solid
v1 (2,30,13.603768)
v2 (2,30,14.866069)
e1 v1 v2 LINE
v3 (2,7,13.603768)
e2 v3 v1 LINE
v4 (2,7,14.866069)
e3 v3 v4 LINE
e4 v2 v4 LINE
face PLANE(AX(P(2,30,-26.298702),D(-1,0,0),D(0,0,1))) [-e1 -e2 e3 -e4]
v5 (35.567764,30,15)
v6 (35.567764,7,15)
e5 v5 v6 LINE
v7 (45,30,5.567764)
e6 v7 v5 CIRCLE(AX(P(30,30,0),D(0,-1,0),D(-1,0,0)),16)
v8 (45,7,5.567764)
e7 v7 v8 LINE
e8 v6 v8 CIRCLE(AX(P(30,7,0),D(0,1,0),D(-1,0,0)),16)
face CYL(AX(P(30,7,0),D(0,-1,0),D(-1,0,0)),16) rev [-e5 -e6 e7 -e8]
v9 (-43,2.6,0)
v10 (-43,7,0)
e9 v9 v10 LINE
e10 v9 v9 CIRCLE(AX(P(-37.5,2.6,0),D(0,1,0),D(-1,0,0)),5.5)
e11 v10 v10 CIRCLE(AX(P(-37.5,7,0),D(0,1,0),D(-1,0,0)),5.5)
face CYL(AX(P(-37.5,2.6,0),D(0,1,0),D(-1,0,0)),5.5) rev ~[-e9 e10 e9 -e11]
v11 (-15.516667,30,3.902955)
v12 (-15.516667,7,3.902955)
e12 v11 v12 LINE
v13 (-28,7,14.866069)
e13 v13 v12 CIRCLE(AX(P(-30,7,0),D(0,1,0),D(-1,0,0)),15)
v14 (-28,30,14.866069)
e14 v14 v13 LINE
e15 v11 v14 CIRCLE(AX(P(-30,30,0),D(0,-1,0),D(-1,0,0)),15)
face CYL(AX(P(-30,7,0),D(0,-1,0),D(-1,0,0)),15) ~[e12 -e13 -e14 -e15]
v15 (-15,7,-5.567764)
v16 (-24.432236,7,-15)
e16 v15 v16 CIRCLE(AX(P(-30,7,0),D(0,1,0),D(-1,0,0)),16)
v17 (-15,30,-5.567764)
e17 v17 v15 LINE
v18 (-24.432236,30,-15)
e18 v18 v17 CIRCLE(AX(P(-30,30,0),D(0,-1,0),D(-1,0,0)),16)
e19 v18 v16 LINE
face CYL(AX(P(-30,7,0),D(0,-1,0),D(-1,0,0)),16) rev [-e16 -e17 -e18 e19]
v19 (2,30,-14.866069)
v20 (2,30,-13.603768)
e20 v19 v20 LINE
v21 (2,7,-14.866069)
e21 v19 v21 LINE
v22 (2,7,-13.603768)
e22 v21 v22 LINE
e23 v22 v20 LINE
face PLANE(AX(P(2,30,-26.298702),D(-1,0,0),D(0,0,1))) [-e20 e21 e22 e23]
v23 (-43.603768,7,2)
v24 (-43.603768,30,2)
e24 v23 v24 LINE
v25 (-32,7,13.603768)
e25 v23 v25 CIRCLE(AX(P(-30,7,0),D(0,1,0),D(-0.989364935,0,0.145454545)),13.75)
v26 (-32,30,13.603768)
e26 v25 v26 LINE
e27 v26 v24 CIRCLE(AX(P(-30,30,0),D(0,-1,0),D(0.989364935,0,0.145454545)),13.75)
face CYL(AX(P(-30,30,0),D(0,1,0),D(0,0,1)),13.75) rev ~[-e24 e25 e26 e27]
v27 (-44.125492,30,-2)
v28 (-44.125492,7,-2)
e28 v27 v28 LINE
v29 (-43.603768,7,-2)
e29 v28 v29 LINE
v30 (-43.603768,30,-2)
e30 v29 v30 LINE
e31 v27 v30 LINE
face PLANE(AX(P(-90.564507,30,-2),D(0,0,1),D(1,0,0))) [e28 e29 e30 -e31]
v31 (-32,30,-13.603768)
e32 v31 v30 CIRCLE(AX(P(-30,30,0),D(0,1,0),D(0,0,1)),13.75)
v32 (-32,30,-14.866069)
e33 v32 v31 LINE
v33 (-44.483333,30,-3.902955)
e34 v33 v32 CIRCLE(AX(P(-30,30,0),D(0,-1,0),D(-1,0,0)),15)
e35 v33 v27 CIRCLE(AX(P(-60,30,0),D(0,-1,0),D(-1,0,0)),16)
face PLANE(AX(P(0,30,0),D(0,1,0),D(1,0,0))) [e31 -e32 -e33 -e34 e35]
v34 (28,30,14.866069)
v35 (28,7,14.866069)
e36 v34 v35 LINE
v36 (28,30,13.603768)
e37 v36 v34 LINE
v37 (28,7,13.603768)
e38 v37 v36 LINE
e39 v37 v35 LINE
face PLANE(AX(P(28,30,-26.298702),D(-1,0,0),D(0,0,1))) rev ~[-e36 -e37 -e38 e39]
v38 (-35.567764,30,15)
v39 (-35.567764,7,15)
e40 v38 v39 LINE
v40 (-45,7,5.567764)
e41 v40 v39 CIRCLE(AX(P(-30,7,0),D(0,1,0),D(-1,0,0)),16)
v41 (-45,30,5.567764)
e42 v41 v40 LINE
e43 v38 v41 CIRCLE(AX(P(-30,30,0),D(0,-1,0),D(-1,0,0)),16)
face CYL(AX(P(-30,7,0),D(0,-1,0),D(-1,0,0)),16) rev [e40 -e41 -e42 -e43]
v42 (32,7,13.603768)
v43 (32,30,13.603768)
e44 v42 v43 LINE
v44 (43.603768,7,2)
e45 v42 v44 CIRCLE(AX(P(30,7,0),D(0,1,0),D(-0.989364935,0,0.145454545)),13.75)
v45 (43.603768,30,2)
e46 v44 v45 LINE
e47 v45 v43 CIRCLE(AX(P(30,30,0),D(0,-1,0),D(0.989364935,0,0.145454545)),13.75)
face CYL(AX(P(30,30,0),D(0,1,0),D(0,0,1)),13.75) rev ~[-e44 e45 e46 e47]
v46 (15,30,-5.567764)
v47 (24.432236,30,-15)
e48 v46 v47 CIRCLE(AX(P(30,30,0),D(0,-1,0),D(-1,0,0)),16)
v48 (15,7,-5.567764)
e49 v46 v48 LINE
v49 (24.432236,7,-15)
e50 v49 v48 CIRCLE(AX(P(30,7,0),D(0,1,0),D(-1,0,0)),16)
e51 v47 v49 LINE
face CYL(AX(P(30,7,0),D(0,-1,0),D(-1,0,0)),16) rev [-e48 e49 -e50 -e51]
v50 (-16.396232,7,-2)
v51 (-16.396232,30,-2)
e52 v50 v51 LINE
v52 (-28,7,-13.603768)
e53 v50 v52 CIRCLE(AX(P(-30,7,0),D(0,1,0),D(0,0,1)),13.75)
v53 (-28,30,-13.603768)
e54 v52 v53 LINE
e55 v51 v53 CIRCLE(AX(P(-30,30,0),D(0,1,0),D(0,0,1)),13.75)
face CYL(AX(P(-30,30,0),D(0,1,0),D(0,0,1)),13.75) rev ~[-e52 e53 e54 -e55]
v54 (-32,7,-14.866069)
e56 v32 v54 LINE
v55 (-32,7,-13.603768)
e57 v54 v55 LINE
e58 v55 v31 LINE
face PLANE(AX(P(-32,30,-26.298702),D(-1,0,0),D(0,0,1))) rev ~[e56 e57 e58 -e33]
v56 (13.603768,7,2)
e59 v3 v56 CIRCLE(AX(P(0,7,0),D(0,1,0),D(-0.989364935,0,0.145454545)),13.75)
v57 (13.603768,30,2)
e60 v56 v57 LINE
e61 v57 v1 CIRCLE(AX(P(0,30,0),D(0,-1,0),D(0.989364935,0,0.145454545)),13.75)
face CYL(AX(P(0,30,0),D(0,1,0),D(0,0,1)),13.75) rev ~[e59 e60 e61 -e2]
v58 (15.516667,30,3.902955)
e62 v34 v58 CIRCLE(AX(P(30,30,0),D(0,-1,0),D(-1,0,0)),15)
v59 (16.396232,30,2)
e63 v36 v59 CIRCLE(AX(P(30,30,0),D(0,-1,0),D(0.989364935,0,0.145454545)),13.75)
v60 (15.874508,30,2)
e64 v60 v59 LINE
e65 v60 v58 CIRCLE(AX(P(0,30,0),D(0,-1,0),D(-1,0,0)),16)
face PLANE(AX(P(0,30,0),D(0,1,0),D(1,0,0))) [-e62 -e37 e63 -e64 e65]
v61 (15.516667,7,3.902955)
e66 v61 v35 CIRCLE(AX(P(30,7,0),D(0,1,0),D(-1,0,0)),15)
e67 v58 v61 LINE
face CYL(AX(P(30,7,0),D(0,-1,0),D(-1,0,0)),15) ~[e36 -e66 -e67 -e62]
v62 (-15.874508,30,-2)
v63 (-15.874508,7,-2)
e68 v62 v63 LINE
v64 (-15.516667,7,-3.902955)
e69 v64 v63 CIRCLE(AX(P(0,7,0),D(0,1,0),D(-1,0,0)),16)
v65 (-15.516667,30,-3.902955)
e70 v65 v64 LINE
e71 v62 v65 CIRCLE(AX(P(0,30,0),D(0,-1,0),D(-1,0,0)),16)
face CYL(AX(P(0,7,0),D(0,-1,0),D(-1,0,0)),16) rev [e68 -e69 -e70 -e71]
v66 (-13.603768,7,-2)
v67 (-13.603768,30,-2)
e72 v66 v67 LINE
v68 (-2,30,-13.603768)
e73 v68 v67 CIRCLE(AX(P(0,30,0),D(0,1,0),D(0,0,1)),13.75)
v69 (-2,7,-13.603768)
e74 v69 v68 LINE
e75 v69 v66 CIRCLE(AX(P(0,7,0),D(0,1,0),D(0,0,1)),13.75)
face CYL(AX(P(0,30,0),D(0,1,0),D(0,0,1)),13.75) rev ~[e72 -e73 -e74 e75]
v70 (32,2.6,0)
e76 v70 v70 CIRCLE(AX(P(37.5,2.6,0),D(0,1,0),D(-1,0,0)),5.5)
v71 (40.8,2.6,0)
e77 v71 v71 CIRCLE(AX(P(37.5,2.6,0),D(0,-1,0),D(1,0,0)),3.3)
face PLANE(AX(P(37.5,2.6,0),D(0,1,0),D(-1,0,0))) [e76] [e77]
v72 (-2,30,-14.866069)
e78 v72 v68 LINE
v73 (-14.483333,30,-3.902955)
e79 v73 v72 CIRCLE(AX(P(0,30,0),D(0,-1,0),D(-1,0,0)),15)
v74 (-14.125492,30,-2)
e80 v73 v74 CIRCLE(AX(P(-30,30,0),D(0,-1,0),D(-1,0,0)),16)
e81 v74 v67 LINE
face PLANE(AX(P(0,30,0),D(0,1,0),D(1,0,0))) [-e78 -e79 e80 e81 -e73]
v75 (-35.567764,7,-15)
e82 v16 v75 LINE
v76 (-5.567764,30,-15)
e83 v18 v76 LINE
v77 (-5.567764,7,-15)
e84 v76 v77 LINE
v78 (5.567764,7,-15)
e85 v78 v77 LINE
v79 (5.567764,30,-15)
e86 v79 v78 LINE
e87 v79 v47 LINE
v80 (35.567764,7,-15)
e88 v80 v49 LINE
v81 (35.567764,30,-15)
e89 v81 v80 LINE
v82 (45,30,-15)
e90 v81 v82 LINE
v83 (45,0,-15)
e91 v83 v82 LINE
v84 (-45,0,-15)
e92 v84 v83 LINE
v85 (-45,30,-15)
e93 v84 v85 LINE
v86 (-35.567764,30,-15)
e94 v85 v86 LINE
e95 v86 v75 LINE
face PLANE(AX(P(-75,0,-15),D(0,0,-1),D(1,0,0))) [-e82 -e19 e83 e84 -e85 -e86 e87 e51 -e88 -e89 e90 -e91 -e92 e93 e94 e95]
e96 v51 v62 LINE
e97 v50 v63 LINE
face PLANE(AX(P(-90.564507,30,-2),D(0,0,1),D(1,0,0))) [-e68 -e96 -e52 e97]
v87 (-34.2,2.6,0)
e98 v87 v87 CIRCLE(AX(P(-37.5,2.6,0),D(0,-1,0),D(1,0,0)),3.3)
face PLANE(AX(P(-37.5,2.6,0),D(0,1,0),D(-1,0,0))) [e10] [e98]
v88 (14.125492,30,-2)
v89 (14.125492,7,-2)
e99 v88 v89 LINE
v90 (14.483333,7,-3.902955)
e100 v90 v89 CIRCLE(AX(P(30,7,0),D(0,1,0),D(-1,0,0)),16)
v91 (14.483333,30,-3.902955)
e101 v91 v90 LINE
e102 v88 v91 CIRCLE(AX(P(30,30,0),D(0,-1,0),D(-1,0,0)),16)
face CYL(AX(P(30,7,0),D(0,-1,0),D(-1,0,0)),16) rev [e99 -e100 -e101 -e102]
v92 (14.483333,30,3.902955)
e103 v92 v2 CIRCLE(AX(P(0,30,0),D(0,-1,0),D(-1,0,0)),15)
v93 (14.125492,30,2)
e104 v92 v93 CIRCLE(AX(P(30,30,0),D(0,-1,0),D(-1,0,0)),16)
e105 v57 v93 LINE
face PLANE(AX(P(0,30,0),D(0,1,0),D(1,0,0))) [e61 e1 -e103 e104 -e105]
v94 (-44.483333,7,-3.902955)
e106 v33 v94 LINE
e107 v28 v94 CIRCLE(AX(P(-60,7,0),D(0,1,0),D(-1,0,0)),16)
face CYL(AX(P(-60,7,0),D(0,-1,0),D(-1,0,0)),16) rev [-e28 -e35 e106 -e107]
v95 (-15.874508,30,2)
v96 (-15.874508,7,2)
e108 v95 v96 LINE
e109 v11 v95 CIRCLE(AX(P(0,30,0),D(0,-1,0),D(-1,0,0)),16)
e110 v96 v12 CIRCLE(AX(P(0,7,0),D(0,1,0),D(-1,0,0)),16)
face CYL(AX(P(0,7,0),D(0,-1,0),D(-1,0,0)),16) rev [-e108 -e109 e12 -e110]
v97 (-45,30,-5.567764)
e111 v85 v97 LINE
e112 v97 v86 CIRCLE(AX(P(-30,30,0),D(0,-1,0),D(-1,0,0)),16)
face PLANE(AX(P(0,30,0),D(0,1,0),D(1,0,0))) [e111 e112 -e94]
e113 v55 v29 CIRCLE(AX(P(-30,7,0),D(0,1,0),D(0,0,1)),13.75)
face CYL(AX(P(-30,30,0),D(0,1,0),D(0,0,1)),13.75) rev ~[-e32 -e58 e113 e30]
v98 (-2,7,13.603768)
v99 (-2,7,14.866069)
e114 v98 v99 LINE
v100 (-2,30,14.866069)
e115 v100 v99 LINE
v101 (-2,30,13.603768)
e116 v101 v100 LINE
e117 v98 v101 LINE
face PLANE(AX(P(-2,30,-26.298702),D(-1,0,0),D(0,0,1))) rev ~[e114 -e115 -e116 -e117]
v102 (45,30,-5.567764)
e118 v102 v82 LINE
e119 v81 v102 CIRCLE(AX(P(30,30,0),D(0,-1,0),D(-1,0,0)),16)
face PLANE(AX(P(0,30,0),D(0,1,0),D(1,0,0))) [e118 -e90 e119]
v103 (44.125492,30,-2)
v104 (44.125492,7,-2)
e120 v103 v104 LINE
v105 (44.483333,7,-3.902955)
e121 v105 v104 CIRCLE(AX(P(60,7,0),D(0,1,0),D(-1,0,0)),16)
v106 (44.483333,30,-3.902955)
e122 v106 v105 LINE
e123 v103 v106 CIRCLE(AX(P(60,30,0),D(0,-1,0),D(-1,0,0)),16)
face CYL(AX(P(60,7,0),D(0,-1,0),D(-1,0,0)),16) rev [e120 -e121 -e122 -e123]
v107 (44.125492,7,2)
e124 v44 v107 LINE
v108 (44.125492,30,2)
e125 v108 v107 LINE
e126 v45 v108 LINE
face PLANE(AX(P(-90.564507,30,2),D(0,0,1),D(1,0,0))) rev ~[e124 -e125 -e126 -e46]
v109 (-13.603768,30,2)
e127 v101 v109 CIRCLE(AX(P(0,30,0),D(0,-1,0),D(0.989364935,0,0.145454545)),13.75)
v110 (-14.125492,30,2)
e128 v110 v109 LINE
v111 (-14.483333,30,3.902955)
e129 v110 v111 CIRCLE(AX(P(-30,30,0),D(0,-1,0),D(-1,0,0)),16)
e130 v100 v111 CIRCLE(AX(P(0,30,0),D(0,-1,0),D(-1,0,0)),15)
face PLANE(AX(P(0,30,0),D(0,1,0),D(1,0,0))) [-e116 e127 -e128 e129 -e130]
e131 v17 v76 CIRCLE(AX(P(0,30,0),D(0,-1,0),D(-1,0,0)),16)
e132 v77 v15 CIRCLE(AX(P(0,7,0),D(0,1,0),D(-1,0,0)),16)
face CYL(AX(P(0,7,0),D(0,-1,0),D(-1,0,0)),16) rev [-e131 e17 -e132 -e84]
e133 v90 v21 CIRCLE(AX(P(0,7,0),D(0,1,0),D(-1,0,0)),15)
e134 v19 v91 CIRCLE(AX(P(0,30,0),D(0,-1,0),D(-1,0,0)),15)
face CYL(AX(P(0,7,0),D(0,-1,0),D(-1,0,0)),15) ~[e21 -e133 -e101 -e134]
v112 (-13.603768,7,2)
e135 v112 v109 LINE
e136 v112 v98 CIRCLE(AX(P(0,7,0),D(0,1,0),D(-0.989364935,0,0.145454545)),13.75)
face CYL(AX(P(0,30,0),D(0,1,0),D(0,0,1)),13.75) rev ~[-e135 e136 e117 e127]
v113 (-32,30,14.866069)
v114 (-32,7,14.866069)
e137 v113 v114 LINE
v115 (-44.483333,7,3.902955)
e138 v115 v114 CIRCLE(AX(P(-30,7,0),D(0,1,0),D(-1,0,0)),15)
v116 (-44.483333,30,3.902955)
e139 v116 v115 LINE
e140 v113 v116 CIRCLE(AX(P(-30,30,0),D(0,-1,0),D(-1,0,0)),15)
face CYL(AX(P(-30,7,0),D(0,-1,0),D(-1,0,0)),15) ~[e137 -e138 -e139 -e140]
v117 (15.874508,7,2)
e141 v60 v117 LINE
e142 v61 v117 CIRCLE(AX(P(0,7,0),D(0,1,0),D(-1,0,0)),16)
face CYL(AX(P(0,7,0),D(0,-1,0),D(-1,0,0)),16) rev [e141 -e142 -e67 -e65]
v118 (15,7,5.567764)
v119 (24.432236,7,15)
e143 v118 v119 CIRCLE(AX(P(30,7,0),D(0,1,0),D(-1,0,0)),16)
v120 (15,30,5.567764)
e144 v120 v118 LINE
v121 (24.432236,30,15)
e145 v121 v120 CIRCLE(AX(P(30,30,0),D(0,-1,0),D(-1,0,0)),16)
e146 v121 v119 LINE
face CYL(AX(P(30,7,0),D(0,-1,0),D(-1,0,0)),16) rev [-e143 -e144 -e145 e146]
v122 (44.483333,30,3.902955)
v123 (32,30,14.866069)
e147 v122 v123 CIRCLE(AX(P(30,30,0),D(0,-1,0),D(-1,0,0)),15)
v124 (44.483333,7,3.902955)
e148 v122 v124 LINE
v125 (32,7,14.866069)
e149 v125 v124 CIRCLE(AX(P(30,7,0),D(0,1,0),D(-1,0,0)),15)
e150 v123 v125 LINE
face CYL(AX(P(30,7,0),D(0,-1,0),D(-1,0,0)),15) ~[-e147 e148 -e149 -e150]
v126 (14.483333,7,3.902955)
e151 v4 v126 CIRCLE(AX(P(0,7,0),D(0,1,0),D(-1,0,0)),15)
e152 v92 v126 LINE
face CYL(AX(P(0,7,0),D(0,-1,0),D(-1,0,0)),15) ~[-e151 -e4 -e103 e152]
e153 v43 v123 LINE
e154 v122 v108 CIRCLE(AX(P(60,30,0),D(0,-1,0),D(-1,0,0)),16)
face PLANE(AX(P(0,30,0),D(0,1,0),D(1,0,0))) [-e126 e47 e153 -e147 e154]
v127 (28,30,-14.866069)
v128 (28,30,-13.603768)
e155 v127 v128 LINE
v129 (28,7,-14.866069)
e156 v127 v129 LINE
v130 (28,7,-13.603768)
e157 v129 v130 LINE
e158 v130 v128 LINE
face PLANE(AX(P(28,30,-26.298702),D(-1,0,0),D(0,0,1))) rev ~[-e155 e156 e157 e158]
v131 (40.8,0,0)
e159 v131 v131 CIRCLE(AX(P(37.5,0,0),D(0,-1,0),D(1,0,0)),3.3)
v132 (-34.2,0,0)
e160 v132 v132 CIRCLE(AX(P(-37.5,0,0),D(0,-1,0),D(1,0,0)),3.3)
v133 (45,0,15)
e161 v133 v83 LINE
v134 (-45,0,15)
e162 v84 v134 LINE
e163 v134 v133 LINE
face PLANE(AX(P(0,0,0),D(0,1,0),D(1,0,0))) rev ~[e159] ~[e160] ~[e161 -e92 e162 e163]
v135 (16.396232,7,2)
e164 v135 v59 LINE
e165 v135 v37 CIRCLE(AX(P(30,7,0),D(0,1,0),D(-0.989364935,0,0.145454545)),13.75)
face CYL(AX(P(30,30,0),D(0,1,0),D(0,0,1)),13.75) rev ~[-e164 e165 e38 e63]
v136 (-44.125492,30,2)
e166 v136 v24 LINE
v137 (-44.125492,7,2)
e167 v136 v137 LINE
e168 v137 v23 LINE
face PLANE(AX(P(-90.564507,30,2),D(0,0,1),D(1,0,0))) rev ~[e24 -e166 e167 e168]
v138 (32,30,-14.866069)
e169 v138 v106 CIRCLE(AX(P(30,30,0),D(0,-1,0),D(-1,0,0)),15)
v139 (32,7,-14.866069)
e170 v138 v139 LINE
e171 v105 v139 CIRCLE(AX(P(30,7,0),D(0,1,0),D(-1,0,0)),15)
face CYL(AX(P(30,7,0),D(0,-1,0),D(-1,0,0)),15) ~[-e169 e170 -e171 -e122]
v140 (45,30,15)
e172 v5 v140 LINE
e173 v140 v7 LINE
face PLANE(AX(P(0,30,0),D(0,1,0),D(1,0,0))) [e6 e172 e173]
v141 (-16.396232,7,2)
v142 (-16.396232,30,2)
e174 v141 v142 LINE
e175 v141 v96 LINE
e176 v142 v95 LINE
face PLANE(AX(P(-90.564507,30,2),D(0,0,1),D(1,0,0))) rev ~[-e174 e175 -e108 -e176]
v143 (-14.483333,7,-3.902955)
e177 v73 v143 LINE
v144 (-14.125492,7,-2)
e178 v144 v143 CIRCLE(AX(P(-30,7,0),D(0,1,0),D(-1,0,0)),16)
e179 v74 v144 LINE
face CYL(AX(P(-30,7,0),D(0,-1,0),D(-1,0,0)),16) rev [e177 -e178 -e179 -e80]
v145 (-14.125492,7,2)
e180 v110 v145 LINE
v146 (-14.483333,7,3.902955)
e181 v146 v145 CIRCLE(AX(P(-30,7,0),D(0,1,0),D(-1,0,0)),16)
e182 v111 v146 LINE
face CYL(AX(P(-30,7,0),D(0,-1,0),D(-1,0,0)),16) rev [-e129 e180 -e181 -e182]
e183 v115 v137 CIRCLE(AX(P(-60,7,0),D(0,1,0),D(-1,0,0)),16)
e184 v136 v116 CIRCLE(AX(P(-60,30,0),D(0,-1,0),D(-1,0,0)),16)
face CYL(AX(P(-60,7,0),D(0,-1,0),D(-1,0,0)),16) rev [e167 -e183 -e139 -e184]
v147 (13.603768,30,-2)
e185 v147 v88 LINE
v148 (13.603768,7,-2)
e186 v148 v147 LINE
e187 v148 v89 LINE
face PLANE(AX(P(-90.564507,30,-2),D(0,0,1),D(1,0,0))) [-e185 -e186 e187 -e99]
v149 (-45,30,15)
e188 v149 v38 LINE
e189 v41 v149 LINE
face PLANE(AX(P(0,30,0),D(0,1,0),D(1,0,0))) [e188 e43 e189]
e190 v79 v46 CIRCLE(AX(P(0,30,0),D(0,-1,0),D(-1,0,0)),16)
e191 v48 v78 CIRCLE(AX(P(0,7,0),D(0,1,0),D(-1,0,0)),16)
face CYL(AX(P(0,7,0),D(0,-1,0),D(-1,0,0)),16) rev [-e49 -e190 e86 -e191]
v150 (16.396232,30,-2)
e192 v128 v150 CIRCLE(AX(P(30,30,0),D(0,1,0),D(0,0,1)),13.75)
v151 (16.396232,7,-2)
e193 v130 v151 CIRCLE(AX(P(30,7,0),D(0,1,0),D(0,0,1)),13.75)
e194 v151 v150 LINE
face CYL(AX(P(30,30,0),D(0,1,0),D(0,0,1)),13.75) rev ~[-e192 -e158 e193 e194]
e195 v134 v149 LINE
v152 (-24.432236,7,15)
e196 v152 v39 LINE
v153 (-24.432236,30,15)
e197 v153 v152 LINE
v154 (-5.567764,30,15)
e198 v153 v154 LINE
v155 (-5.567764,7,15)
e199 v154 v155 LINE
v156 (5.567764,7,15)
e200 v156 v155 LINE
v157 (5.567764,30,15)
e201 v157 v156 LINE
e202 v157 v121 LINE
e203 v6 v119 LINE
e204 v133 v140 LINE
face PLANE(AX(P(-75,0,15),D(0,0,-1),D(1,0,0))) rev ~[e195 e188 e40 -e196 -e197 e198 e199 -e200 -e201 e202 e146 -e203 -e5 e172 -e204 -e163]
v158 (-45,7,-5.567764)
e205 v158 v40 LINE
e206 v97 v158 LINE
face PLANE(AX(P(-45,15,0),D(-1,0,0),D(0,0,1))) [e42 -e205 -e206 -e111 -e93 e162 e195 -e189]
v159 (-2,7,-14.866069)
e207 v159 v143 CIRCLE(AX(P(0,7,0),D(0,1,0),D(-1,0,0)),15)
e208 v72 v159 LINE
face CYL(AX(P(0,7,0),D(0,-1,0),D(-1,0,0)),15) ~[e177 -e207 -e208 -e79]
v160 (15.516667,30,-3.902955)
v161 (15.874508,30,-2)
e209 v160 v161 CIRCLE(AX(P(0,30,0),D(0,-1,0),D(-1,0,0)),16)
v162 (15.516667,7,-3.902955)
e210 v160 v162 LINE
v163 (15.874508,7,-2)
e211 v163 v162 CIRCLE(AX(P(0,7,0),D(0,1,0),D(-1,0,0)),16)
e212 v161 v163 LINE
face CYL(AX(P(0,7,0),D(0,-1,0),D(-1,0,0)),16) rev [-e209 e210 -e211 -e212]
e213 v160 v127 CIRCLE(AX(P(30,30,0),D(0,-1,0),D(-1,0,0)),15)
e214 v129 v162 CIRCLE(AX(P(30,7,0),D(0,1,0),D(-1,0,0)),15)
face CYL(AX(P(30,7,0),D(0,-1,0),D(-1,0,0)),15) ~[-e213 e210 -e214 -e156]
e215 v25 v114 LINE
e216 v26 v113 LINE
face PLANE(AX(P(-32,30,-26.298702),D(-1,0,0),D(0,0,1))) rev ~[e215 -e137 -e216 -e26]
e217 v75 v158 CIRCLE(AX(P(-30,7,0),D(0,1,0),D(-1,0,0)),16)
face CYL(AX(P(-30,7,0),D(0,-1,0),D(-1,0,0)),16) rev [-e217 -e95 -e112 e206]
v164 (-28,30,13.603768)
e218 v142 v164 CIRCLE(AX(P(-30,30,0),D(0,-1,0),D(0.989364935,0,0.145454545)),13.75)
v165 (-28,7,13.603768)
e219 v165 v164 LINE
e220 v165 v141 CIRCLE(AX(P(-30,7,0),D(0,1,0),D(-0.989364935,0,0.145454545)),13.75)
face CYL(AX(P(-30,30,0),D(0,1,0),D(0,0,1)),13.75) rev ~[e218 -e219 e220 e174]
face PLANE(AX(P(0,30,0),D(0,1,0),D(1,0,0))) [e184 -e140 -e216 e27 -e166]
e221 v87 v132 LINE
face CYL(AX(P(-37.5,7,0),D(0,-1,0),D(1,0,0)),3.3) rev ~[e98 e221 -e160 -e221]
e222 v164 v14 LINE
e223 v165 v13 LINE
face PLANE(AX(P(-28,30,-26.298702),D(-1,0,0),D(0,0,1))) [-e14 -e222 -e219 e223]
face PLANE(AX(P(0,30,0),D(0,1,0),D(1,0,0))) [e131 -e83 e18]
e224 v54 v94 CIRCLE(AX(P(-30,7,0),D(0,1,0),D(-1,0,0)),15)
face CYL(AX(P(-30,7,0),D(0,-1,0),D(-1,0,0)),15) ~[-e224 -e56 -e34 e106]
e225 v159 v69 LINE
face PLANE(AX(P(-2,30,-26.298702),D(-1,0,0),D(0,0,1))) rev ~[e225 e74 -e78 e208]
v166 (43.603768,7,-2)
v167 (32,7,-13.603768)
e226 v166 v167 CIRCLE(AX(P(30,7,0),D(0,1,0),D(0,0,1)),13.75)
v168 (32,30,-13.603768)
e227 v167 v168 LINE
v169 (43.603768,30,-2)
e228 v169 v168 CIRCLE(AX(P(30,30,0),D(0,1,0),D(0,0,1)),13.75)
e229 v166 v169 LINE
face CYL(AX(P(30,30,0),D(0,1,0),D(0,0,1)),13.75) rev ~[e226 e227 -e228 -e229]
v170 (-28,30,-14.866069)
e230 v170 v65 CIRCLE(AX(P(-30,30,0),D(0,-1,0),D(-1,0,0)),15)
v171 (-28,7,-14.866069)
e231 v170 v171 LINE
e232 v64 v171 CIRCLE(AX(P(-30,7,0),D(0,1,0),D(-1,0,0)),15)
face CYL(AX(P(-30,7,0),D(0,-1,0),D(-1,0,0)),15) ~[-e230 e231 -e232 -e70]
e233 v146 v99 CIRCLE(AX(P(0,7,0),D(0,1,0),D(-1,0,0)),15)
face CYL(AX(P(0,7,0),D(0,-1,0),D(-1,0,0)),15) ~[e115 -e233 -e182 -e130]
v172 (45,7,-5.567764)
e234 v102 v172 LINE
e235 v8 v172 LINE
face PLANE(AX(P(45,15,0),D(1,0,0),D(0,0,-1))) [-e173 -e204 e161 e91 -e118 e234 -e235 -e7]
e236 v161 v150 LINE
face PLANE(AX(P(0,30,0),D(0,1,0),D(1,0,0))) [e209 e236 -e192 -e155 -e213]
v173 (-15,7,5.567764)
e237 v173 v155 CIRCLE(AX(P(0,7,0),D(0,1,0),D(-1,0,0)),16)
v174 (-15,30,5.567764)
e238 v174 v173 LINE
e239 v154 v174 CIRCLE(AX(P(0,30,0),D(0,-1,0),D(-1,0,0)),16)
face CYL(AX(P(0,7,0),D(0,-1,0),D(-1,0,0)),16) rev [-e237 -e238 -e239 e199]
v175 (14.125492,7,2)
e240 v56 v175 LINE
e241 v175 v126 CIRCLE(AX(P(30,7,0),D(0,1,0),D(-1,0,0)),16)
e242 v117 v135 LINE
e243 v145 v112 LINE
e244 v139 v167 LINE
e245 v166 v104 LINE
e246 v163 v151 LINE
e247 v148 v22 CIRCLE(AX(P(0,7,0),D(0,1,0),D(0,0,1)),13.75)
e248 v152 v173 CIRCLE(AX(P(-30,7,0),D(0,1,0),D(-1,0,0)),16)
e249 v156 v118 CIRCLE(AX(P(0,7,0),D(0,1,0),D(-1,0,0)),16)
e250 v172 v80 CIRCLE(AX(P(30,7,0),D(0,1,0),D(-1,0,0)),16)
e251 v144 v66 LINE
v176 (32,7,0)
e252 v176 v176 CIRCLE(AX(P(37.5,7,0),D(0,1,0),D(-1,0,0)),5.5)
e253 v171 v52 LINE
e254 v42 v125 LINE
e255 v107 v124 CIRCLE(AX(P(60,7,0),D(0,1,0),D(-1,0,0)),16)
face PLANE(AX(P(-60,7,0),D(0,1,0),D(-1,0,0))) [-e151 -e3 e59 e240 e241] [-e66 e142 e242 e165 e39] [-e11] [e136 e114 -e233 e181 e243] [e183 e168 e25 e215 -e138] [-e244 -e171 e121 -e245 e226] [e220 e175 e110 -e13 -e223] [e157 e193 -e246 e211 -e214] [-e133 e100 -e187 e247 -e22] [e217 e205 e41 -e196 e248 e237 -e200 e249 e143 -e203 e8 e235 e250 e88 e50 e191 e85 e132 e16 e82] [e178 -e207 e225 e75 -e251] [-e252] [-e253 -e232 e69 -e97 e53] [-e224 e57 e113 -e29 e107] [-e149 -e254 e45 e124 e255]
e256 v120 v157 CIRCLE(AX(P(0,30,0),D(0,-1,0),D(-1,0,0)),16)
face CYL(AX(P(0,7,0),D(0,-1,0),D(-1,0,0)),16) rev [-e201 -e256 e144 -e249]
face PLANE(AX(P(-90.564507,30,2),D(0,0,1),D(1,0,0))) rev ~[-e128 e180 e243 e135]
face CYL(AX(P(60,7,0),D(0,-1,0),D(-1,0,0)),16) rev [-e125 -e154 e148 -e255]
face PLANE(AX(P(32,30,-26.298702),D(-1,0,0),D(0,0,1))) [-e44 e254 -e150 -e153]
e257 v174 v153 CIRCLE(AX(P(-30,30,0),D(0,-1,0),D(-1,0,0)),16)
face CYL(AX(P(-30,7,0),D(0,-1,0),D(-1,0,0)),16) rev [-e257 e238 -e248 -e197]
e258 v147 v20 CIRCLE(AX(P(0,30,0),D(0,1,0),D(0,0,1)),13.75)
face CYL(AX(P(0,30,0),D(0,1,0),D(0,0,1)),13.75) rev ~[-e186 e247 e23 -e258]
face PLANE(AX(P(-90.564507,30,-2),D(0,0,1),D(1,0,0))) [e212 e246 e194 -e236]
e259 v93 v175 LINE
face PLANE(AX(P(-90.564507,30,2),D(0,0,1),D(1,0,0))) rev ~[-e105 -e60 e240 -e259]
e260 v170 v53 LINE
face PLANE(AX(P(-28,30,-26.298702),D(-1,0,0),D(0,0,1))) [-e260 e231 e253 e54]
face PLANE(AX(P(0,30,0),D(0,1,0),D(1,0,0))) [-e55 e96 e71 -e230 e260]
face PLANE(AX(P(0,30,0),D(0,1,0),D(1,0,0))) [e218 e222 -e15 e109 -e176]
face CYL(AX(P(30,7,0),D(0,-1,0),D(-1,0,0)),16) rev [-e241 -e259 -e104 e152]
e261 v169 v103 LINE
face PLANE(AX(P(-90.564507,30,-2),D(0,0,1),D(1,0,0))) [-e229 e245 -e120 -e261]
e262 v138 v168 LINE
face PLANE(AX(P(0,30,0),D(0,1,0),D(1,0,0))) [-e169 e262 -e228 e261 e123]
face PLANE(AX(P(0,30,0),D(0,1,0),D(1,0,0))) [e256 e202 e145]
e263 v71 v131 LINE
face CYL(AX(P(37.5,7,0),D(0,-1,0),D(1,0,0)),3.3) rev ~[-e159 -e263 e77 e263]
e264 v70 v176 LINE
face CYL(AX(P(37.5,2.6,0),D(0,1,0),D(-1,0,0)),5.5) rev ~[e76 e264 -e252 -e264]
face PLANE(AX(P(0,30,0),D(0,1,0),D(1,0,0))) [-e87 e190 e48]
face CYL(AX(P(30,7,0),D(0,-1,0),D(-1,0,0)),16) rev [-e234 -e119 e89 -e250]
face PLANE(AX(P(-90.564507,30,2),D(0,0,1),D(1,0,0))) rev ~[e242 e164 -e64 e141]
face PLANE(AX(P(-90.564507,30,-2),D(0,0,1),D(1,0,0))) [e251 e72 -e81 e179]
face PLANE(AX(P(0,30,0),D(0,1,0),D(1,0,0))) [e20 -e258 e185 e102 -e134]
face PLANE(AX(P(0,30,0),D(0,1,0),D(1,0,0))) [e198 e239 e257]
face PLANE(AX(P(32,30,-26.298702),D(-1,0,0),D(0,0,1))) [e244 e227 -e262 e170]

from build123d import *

# Parameters (mm, degrees)
SKETCH2_W                                           = 150
SKETCH2_H                                           = 30
BOSS_EXTRUDE1_DEPTH                                 = 30
SKETCH3_R                                           = 13.75
CUT_EXTRUDE1_DEPTH                                  = 23
LPATTERN1_COUNT                                     = 5
LPATTERN1_PITCH                                     = 30
CBORE_FOR_M4_HEX_SOCKET_HEAD_CAP_SCREW1_D           = 4.5
CBORE_FOR_M4_HEX_SOCKET_HEAD_CAP_SCREW1_CBORE_D     = 8
CBORE_FOR_M4_HEX_SOCKET_HEAD_CAP_SCREW1_CBORE_DEPTH = 4.4
LPATTERN2_COUNT                                     = 2
LPATTERN2_PITCH                                     = 120
SKETCH7_W                                           = 181.12901383
SKETCH7_H                                           = 4
CUT_EXTRUDE3_DEPTH                                  = 23
SKETCH8_W                                           = 4
SKETCH8_H                                           = 50
CUT_EXTRUDE4_DEPTH                                  = 23
SKIZZE1_R                                           = 16
SKIZZE1_R_2                                         = 15
SCHNITT_LINEAR_AUSTRAGEN1_DEPTH                     = 80.868642157
LPATTERN3_COUNT                                     = 5
LPATTERN3_PITCH                                     = 30
CBORE_FOR_M6_HEX_SOCKET_HEAD_CAP_SCREW1_D           = 6.6
CBORE_FOR_M6_HEX_SOCKET_HEAD_CAP_SCREW1_CBORE_D     = 11
CBORE_FOR_M6_HEX_SOCKET_HEAD_CAP_SCREW1_CBORE_DEPTH = 4.4
LPATTERN4_COUNT                                     = 2
LPATTERN4_PITCH                                     = 75
SKIZZE2_W                                           = 30
SKIZZE2_H                                           = 30
SCHNITT_LINEAR_AUSTRAGEN2_DEPTH                     = 30
SKIZZE3_W                                           = 30
SKIZZE3_H                                           = 30
SCHNITT_LINEAR_AUSTRAGEN3_DEPTH                     = 30


with BuildPart() as part:
    # Sketch2 → Boss-Extrude1 (new body)
    with BuildSketch(Plane(origin=(0, 0, 0), x_dir=(1, 0, 0), z_dir=(0, 1, 0))):
        Rectangle(SKETCH2_W, SKETCH2_H)
    extrude(amount=BOSS_EXTRUDE1_DEPTH)

    # Sketch3 → Cut-Extrude1 (cut)
    with BuildSketch(Plane(origin=(0, 30, 0), x_dir=(1, 0, 0), z_dir=(0, 1, 0))):
        with Locations(Location((-60, 0, 0), (0, 0, 270))):
            Circle(SKETCH3_R)
    cut_extrude1 = extrude(amount=-CUT_EXTRUDE1_DEPTH, mode=Mode.SUBTRACT)

    # LPattern1: Cut-Extrude1 ×5
    with Locations(*[(i * LPATTERN1_PITCH, 0, 0) for i in range(1, LPATTERN1_COUNT)]):
        add(cut_extrude1, mode=Mode.SUBTRACT)

    # CBORE for M4 Hex Socket Head Cap Screw1 (through all)
    with Locations(Plane(origin=(0, 7, 0), x_dir=(-1, 0, 0), z_dir=(0, 1, 0))):
        with Locations((60, 0)):
            cbore_for_m4_hex_socket_head_cap_screw1 = CounterBoreHole(CBORE_FOR_M4_HEX_SOCKET_HEAD_CAP_SCREW1_D / 2, CBORE_FOR_M4_HEX_SOCKET_HEAD_CAP_SCREW1_CBORE_D / 2, CBORE_FOR_M4_HEX_SOCKET_HEAD_CAP_SCREW1_CBORE_DEPTH)

    # LPattern2: CBORE for M4 Hex Socket Head Cap Screw1 ×2
    with Locations(*[(i * LPATTERN2_PITCH, 0, 0) for i in range(1, LPATTERN2_COUNT)]):
        add(cbore_for_m4_hex_socket_head_cap_screw1, mode=Mode.SUBTRACT)

    # Sketch7 → Cut-Extrude3 (cut)
    with BuildSketch(Plane(origin=(0, 30, 0), x_dir=(1, 0, 0), z_dir=(0, 1, 0))):
        Rectangle(SKETCH7_W, SKETCH7_H)
    extrude(amount=-CUT_EXTRUDE3_DEPTH, mode=Mode.SUBTRACT)

    # Sketch8 → Cut-Extrude4 (cut)
    with BuildSketch(Plane(origin=(0, 30, 0), x_dir=(-1, 0, 0), z_dir=(0, 1, 0))):
        with Locations((60, -1.298701607)):
            Rectangle(SKETCH8_W, SKETCH8_H)
    cut_extrude4 = extrude(amount=-CUT_EXTRUDE4_DEPTH, mode=Mode.SUBTRACT)

    # Skizze1 → Schnitt-Linear austragen1 (cut, through all)
    with BuildSketch(Plane(origin=(0, 7, 0), x_dir=(-1, 0, 0), z_dir=(0, 1, 0))):
        with Locations((60, 0)):
            Circle(SKIZZE1_R)
        with Locations((60, 0)):
            Circle(SKIZZE1_R_2, mode=Mode.SUBTRACT)
    schnitt_linear_austragen1 = extrude(amount=SCHNITT_LINEAR_AUSTRAGEN1_DEPTH, mode=Mode.SUBTRACT)

    # LPattern3: Cut-Extrude4, Schnitt-Linear austragen1 ×5
    with Locations(*[(i * LPATTERN3_PITCH, 0, 0) for i in range(1, LPATTERN3_COUNT)]):
        add(cut_extrude4, mode=Mode.SUBTRACT)
        add(schnitt_linear_austragen1, mode=Mode.SUBTRACT)

    # CBORE for M6 Hex Socket Head Cap Screw1 (through all)
    with Locations(Plane(origin=(0, 7, 0), x_dir=(-1, 0, 0), z_dir=(0, 1, 0))):
        with Locations((37.5, 0)):
            cbore_for_m6_hex_socket_head_cap_screw1 = CounterBoreHole(CBORE_FOR_M6_HEX_SOCKET_HEAD_CAP_SCREW1_D / 2, CBORE_FOR_M6_HEX_SOCKET_HEAD_CAP_SCREW1_CBORE_D / 2, CBORE_FOR_M6_HEX_SOCKET_HEAD_CAP_SCREW1_CBORE_DEPTH)

    # LPattern4: CBORE for M6 Hex Socket Head Cap Screw1 ×2
    with Locations(*[(i * LPATTERN4_PITCH, 0, 0) for i in range(1, LPATTERN4_COUNT)]):
        add(cbore_for_m6_hex_socket_head_cap_screw1, mode=Mode.SUBTRACT)

    # Skizze2 → Schnitt-Linear austragen2 (cut)
    with BuildSketch(Plane.ZY.offset(75)):
        with Locations((0, 15)):
            Rectangle(SKIZZE2_W, SKIZZE2_H)
    extrude(amount=-SCHNITT_LINEAR_AUSTRAGEN2_DEPTH, mode=Mode.SUBTRACT)

    # Skizze3 → Schnitt-Linear austragen3 (cut)
    with BuildSketch(Plane(origin=(75, 0, 0), x_dir=(0, 0, -1), z_dir=(1, 0, 0))):
        with Locations((0, 15)):
            Rectangle(SKIZZE3_W, SKIZZE3_H)
    extrude(amount=-SCHNITT_LINEAR_AUSTRAGEN3_DEPTH, mode=Mode.SUBTRACT)


solid = part.part
